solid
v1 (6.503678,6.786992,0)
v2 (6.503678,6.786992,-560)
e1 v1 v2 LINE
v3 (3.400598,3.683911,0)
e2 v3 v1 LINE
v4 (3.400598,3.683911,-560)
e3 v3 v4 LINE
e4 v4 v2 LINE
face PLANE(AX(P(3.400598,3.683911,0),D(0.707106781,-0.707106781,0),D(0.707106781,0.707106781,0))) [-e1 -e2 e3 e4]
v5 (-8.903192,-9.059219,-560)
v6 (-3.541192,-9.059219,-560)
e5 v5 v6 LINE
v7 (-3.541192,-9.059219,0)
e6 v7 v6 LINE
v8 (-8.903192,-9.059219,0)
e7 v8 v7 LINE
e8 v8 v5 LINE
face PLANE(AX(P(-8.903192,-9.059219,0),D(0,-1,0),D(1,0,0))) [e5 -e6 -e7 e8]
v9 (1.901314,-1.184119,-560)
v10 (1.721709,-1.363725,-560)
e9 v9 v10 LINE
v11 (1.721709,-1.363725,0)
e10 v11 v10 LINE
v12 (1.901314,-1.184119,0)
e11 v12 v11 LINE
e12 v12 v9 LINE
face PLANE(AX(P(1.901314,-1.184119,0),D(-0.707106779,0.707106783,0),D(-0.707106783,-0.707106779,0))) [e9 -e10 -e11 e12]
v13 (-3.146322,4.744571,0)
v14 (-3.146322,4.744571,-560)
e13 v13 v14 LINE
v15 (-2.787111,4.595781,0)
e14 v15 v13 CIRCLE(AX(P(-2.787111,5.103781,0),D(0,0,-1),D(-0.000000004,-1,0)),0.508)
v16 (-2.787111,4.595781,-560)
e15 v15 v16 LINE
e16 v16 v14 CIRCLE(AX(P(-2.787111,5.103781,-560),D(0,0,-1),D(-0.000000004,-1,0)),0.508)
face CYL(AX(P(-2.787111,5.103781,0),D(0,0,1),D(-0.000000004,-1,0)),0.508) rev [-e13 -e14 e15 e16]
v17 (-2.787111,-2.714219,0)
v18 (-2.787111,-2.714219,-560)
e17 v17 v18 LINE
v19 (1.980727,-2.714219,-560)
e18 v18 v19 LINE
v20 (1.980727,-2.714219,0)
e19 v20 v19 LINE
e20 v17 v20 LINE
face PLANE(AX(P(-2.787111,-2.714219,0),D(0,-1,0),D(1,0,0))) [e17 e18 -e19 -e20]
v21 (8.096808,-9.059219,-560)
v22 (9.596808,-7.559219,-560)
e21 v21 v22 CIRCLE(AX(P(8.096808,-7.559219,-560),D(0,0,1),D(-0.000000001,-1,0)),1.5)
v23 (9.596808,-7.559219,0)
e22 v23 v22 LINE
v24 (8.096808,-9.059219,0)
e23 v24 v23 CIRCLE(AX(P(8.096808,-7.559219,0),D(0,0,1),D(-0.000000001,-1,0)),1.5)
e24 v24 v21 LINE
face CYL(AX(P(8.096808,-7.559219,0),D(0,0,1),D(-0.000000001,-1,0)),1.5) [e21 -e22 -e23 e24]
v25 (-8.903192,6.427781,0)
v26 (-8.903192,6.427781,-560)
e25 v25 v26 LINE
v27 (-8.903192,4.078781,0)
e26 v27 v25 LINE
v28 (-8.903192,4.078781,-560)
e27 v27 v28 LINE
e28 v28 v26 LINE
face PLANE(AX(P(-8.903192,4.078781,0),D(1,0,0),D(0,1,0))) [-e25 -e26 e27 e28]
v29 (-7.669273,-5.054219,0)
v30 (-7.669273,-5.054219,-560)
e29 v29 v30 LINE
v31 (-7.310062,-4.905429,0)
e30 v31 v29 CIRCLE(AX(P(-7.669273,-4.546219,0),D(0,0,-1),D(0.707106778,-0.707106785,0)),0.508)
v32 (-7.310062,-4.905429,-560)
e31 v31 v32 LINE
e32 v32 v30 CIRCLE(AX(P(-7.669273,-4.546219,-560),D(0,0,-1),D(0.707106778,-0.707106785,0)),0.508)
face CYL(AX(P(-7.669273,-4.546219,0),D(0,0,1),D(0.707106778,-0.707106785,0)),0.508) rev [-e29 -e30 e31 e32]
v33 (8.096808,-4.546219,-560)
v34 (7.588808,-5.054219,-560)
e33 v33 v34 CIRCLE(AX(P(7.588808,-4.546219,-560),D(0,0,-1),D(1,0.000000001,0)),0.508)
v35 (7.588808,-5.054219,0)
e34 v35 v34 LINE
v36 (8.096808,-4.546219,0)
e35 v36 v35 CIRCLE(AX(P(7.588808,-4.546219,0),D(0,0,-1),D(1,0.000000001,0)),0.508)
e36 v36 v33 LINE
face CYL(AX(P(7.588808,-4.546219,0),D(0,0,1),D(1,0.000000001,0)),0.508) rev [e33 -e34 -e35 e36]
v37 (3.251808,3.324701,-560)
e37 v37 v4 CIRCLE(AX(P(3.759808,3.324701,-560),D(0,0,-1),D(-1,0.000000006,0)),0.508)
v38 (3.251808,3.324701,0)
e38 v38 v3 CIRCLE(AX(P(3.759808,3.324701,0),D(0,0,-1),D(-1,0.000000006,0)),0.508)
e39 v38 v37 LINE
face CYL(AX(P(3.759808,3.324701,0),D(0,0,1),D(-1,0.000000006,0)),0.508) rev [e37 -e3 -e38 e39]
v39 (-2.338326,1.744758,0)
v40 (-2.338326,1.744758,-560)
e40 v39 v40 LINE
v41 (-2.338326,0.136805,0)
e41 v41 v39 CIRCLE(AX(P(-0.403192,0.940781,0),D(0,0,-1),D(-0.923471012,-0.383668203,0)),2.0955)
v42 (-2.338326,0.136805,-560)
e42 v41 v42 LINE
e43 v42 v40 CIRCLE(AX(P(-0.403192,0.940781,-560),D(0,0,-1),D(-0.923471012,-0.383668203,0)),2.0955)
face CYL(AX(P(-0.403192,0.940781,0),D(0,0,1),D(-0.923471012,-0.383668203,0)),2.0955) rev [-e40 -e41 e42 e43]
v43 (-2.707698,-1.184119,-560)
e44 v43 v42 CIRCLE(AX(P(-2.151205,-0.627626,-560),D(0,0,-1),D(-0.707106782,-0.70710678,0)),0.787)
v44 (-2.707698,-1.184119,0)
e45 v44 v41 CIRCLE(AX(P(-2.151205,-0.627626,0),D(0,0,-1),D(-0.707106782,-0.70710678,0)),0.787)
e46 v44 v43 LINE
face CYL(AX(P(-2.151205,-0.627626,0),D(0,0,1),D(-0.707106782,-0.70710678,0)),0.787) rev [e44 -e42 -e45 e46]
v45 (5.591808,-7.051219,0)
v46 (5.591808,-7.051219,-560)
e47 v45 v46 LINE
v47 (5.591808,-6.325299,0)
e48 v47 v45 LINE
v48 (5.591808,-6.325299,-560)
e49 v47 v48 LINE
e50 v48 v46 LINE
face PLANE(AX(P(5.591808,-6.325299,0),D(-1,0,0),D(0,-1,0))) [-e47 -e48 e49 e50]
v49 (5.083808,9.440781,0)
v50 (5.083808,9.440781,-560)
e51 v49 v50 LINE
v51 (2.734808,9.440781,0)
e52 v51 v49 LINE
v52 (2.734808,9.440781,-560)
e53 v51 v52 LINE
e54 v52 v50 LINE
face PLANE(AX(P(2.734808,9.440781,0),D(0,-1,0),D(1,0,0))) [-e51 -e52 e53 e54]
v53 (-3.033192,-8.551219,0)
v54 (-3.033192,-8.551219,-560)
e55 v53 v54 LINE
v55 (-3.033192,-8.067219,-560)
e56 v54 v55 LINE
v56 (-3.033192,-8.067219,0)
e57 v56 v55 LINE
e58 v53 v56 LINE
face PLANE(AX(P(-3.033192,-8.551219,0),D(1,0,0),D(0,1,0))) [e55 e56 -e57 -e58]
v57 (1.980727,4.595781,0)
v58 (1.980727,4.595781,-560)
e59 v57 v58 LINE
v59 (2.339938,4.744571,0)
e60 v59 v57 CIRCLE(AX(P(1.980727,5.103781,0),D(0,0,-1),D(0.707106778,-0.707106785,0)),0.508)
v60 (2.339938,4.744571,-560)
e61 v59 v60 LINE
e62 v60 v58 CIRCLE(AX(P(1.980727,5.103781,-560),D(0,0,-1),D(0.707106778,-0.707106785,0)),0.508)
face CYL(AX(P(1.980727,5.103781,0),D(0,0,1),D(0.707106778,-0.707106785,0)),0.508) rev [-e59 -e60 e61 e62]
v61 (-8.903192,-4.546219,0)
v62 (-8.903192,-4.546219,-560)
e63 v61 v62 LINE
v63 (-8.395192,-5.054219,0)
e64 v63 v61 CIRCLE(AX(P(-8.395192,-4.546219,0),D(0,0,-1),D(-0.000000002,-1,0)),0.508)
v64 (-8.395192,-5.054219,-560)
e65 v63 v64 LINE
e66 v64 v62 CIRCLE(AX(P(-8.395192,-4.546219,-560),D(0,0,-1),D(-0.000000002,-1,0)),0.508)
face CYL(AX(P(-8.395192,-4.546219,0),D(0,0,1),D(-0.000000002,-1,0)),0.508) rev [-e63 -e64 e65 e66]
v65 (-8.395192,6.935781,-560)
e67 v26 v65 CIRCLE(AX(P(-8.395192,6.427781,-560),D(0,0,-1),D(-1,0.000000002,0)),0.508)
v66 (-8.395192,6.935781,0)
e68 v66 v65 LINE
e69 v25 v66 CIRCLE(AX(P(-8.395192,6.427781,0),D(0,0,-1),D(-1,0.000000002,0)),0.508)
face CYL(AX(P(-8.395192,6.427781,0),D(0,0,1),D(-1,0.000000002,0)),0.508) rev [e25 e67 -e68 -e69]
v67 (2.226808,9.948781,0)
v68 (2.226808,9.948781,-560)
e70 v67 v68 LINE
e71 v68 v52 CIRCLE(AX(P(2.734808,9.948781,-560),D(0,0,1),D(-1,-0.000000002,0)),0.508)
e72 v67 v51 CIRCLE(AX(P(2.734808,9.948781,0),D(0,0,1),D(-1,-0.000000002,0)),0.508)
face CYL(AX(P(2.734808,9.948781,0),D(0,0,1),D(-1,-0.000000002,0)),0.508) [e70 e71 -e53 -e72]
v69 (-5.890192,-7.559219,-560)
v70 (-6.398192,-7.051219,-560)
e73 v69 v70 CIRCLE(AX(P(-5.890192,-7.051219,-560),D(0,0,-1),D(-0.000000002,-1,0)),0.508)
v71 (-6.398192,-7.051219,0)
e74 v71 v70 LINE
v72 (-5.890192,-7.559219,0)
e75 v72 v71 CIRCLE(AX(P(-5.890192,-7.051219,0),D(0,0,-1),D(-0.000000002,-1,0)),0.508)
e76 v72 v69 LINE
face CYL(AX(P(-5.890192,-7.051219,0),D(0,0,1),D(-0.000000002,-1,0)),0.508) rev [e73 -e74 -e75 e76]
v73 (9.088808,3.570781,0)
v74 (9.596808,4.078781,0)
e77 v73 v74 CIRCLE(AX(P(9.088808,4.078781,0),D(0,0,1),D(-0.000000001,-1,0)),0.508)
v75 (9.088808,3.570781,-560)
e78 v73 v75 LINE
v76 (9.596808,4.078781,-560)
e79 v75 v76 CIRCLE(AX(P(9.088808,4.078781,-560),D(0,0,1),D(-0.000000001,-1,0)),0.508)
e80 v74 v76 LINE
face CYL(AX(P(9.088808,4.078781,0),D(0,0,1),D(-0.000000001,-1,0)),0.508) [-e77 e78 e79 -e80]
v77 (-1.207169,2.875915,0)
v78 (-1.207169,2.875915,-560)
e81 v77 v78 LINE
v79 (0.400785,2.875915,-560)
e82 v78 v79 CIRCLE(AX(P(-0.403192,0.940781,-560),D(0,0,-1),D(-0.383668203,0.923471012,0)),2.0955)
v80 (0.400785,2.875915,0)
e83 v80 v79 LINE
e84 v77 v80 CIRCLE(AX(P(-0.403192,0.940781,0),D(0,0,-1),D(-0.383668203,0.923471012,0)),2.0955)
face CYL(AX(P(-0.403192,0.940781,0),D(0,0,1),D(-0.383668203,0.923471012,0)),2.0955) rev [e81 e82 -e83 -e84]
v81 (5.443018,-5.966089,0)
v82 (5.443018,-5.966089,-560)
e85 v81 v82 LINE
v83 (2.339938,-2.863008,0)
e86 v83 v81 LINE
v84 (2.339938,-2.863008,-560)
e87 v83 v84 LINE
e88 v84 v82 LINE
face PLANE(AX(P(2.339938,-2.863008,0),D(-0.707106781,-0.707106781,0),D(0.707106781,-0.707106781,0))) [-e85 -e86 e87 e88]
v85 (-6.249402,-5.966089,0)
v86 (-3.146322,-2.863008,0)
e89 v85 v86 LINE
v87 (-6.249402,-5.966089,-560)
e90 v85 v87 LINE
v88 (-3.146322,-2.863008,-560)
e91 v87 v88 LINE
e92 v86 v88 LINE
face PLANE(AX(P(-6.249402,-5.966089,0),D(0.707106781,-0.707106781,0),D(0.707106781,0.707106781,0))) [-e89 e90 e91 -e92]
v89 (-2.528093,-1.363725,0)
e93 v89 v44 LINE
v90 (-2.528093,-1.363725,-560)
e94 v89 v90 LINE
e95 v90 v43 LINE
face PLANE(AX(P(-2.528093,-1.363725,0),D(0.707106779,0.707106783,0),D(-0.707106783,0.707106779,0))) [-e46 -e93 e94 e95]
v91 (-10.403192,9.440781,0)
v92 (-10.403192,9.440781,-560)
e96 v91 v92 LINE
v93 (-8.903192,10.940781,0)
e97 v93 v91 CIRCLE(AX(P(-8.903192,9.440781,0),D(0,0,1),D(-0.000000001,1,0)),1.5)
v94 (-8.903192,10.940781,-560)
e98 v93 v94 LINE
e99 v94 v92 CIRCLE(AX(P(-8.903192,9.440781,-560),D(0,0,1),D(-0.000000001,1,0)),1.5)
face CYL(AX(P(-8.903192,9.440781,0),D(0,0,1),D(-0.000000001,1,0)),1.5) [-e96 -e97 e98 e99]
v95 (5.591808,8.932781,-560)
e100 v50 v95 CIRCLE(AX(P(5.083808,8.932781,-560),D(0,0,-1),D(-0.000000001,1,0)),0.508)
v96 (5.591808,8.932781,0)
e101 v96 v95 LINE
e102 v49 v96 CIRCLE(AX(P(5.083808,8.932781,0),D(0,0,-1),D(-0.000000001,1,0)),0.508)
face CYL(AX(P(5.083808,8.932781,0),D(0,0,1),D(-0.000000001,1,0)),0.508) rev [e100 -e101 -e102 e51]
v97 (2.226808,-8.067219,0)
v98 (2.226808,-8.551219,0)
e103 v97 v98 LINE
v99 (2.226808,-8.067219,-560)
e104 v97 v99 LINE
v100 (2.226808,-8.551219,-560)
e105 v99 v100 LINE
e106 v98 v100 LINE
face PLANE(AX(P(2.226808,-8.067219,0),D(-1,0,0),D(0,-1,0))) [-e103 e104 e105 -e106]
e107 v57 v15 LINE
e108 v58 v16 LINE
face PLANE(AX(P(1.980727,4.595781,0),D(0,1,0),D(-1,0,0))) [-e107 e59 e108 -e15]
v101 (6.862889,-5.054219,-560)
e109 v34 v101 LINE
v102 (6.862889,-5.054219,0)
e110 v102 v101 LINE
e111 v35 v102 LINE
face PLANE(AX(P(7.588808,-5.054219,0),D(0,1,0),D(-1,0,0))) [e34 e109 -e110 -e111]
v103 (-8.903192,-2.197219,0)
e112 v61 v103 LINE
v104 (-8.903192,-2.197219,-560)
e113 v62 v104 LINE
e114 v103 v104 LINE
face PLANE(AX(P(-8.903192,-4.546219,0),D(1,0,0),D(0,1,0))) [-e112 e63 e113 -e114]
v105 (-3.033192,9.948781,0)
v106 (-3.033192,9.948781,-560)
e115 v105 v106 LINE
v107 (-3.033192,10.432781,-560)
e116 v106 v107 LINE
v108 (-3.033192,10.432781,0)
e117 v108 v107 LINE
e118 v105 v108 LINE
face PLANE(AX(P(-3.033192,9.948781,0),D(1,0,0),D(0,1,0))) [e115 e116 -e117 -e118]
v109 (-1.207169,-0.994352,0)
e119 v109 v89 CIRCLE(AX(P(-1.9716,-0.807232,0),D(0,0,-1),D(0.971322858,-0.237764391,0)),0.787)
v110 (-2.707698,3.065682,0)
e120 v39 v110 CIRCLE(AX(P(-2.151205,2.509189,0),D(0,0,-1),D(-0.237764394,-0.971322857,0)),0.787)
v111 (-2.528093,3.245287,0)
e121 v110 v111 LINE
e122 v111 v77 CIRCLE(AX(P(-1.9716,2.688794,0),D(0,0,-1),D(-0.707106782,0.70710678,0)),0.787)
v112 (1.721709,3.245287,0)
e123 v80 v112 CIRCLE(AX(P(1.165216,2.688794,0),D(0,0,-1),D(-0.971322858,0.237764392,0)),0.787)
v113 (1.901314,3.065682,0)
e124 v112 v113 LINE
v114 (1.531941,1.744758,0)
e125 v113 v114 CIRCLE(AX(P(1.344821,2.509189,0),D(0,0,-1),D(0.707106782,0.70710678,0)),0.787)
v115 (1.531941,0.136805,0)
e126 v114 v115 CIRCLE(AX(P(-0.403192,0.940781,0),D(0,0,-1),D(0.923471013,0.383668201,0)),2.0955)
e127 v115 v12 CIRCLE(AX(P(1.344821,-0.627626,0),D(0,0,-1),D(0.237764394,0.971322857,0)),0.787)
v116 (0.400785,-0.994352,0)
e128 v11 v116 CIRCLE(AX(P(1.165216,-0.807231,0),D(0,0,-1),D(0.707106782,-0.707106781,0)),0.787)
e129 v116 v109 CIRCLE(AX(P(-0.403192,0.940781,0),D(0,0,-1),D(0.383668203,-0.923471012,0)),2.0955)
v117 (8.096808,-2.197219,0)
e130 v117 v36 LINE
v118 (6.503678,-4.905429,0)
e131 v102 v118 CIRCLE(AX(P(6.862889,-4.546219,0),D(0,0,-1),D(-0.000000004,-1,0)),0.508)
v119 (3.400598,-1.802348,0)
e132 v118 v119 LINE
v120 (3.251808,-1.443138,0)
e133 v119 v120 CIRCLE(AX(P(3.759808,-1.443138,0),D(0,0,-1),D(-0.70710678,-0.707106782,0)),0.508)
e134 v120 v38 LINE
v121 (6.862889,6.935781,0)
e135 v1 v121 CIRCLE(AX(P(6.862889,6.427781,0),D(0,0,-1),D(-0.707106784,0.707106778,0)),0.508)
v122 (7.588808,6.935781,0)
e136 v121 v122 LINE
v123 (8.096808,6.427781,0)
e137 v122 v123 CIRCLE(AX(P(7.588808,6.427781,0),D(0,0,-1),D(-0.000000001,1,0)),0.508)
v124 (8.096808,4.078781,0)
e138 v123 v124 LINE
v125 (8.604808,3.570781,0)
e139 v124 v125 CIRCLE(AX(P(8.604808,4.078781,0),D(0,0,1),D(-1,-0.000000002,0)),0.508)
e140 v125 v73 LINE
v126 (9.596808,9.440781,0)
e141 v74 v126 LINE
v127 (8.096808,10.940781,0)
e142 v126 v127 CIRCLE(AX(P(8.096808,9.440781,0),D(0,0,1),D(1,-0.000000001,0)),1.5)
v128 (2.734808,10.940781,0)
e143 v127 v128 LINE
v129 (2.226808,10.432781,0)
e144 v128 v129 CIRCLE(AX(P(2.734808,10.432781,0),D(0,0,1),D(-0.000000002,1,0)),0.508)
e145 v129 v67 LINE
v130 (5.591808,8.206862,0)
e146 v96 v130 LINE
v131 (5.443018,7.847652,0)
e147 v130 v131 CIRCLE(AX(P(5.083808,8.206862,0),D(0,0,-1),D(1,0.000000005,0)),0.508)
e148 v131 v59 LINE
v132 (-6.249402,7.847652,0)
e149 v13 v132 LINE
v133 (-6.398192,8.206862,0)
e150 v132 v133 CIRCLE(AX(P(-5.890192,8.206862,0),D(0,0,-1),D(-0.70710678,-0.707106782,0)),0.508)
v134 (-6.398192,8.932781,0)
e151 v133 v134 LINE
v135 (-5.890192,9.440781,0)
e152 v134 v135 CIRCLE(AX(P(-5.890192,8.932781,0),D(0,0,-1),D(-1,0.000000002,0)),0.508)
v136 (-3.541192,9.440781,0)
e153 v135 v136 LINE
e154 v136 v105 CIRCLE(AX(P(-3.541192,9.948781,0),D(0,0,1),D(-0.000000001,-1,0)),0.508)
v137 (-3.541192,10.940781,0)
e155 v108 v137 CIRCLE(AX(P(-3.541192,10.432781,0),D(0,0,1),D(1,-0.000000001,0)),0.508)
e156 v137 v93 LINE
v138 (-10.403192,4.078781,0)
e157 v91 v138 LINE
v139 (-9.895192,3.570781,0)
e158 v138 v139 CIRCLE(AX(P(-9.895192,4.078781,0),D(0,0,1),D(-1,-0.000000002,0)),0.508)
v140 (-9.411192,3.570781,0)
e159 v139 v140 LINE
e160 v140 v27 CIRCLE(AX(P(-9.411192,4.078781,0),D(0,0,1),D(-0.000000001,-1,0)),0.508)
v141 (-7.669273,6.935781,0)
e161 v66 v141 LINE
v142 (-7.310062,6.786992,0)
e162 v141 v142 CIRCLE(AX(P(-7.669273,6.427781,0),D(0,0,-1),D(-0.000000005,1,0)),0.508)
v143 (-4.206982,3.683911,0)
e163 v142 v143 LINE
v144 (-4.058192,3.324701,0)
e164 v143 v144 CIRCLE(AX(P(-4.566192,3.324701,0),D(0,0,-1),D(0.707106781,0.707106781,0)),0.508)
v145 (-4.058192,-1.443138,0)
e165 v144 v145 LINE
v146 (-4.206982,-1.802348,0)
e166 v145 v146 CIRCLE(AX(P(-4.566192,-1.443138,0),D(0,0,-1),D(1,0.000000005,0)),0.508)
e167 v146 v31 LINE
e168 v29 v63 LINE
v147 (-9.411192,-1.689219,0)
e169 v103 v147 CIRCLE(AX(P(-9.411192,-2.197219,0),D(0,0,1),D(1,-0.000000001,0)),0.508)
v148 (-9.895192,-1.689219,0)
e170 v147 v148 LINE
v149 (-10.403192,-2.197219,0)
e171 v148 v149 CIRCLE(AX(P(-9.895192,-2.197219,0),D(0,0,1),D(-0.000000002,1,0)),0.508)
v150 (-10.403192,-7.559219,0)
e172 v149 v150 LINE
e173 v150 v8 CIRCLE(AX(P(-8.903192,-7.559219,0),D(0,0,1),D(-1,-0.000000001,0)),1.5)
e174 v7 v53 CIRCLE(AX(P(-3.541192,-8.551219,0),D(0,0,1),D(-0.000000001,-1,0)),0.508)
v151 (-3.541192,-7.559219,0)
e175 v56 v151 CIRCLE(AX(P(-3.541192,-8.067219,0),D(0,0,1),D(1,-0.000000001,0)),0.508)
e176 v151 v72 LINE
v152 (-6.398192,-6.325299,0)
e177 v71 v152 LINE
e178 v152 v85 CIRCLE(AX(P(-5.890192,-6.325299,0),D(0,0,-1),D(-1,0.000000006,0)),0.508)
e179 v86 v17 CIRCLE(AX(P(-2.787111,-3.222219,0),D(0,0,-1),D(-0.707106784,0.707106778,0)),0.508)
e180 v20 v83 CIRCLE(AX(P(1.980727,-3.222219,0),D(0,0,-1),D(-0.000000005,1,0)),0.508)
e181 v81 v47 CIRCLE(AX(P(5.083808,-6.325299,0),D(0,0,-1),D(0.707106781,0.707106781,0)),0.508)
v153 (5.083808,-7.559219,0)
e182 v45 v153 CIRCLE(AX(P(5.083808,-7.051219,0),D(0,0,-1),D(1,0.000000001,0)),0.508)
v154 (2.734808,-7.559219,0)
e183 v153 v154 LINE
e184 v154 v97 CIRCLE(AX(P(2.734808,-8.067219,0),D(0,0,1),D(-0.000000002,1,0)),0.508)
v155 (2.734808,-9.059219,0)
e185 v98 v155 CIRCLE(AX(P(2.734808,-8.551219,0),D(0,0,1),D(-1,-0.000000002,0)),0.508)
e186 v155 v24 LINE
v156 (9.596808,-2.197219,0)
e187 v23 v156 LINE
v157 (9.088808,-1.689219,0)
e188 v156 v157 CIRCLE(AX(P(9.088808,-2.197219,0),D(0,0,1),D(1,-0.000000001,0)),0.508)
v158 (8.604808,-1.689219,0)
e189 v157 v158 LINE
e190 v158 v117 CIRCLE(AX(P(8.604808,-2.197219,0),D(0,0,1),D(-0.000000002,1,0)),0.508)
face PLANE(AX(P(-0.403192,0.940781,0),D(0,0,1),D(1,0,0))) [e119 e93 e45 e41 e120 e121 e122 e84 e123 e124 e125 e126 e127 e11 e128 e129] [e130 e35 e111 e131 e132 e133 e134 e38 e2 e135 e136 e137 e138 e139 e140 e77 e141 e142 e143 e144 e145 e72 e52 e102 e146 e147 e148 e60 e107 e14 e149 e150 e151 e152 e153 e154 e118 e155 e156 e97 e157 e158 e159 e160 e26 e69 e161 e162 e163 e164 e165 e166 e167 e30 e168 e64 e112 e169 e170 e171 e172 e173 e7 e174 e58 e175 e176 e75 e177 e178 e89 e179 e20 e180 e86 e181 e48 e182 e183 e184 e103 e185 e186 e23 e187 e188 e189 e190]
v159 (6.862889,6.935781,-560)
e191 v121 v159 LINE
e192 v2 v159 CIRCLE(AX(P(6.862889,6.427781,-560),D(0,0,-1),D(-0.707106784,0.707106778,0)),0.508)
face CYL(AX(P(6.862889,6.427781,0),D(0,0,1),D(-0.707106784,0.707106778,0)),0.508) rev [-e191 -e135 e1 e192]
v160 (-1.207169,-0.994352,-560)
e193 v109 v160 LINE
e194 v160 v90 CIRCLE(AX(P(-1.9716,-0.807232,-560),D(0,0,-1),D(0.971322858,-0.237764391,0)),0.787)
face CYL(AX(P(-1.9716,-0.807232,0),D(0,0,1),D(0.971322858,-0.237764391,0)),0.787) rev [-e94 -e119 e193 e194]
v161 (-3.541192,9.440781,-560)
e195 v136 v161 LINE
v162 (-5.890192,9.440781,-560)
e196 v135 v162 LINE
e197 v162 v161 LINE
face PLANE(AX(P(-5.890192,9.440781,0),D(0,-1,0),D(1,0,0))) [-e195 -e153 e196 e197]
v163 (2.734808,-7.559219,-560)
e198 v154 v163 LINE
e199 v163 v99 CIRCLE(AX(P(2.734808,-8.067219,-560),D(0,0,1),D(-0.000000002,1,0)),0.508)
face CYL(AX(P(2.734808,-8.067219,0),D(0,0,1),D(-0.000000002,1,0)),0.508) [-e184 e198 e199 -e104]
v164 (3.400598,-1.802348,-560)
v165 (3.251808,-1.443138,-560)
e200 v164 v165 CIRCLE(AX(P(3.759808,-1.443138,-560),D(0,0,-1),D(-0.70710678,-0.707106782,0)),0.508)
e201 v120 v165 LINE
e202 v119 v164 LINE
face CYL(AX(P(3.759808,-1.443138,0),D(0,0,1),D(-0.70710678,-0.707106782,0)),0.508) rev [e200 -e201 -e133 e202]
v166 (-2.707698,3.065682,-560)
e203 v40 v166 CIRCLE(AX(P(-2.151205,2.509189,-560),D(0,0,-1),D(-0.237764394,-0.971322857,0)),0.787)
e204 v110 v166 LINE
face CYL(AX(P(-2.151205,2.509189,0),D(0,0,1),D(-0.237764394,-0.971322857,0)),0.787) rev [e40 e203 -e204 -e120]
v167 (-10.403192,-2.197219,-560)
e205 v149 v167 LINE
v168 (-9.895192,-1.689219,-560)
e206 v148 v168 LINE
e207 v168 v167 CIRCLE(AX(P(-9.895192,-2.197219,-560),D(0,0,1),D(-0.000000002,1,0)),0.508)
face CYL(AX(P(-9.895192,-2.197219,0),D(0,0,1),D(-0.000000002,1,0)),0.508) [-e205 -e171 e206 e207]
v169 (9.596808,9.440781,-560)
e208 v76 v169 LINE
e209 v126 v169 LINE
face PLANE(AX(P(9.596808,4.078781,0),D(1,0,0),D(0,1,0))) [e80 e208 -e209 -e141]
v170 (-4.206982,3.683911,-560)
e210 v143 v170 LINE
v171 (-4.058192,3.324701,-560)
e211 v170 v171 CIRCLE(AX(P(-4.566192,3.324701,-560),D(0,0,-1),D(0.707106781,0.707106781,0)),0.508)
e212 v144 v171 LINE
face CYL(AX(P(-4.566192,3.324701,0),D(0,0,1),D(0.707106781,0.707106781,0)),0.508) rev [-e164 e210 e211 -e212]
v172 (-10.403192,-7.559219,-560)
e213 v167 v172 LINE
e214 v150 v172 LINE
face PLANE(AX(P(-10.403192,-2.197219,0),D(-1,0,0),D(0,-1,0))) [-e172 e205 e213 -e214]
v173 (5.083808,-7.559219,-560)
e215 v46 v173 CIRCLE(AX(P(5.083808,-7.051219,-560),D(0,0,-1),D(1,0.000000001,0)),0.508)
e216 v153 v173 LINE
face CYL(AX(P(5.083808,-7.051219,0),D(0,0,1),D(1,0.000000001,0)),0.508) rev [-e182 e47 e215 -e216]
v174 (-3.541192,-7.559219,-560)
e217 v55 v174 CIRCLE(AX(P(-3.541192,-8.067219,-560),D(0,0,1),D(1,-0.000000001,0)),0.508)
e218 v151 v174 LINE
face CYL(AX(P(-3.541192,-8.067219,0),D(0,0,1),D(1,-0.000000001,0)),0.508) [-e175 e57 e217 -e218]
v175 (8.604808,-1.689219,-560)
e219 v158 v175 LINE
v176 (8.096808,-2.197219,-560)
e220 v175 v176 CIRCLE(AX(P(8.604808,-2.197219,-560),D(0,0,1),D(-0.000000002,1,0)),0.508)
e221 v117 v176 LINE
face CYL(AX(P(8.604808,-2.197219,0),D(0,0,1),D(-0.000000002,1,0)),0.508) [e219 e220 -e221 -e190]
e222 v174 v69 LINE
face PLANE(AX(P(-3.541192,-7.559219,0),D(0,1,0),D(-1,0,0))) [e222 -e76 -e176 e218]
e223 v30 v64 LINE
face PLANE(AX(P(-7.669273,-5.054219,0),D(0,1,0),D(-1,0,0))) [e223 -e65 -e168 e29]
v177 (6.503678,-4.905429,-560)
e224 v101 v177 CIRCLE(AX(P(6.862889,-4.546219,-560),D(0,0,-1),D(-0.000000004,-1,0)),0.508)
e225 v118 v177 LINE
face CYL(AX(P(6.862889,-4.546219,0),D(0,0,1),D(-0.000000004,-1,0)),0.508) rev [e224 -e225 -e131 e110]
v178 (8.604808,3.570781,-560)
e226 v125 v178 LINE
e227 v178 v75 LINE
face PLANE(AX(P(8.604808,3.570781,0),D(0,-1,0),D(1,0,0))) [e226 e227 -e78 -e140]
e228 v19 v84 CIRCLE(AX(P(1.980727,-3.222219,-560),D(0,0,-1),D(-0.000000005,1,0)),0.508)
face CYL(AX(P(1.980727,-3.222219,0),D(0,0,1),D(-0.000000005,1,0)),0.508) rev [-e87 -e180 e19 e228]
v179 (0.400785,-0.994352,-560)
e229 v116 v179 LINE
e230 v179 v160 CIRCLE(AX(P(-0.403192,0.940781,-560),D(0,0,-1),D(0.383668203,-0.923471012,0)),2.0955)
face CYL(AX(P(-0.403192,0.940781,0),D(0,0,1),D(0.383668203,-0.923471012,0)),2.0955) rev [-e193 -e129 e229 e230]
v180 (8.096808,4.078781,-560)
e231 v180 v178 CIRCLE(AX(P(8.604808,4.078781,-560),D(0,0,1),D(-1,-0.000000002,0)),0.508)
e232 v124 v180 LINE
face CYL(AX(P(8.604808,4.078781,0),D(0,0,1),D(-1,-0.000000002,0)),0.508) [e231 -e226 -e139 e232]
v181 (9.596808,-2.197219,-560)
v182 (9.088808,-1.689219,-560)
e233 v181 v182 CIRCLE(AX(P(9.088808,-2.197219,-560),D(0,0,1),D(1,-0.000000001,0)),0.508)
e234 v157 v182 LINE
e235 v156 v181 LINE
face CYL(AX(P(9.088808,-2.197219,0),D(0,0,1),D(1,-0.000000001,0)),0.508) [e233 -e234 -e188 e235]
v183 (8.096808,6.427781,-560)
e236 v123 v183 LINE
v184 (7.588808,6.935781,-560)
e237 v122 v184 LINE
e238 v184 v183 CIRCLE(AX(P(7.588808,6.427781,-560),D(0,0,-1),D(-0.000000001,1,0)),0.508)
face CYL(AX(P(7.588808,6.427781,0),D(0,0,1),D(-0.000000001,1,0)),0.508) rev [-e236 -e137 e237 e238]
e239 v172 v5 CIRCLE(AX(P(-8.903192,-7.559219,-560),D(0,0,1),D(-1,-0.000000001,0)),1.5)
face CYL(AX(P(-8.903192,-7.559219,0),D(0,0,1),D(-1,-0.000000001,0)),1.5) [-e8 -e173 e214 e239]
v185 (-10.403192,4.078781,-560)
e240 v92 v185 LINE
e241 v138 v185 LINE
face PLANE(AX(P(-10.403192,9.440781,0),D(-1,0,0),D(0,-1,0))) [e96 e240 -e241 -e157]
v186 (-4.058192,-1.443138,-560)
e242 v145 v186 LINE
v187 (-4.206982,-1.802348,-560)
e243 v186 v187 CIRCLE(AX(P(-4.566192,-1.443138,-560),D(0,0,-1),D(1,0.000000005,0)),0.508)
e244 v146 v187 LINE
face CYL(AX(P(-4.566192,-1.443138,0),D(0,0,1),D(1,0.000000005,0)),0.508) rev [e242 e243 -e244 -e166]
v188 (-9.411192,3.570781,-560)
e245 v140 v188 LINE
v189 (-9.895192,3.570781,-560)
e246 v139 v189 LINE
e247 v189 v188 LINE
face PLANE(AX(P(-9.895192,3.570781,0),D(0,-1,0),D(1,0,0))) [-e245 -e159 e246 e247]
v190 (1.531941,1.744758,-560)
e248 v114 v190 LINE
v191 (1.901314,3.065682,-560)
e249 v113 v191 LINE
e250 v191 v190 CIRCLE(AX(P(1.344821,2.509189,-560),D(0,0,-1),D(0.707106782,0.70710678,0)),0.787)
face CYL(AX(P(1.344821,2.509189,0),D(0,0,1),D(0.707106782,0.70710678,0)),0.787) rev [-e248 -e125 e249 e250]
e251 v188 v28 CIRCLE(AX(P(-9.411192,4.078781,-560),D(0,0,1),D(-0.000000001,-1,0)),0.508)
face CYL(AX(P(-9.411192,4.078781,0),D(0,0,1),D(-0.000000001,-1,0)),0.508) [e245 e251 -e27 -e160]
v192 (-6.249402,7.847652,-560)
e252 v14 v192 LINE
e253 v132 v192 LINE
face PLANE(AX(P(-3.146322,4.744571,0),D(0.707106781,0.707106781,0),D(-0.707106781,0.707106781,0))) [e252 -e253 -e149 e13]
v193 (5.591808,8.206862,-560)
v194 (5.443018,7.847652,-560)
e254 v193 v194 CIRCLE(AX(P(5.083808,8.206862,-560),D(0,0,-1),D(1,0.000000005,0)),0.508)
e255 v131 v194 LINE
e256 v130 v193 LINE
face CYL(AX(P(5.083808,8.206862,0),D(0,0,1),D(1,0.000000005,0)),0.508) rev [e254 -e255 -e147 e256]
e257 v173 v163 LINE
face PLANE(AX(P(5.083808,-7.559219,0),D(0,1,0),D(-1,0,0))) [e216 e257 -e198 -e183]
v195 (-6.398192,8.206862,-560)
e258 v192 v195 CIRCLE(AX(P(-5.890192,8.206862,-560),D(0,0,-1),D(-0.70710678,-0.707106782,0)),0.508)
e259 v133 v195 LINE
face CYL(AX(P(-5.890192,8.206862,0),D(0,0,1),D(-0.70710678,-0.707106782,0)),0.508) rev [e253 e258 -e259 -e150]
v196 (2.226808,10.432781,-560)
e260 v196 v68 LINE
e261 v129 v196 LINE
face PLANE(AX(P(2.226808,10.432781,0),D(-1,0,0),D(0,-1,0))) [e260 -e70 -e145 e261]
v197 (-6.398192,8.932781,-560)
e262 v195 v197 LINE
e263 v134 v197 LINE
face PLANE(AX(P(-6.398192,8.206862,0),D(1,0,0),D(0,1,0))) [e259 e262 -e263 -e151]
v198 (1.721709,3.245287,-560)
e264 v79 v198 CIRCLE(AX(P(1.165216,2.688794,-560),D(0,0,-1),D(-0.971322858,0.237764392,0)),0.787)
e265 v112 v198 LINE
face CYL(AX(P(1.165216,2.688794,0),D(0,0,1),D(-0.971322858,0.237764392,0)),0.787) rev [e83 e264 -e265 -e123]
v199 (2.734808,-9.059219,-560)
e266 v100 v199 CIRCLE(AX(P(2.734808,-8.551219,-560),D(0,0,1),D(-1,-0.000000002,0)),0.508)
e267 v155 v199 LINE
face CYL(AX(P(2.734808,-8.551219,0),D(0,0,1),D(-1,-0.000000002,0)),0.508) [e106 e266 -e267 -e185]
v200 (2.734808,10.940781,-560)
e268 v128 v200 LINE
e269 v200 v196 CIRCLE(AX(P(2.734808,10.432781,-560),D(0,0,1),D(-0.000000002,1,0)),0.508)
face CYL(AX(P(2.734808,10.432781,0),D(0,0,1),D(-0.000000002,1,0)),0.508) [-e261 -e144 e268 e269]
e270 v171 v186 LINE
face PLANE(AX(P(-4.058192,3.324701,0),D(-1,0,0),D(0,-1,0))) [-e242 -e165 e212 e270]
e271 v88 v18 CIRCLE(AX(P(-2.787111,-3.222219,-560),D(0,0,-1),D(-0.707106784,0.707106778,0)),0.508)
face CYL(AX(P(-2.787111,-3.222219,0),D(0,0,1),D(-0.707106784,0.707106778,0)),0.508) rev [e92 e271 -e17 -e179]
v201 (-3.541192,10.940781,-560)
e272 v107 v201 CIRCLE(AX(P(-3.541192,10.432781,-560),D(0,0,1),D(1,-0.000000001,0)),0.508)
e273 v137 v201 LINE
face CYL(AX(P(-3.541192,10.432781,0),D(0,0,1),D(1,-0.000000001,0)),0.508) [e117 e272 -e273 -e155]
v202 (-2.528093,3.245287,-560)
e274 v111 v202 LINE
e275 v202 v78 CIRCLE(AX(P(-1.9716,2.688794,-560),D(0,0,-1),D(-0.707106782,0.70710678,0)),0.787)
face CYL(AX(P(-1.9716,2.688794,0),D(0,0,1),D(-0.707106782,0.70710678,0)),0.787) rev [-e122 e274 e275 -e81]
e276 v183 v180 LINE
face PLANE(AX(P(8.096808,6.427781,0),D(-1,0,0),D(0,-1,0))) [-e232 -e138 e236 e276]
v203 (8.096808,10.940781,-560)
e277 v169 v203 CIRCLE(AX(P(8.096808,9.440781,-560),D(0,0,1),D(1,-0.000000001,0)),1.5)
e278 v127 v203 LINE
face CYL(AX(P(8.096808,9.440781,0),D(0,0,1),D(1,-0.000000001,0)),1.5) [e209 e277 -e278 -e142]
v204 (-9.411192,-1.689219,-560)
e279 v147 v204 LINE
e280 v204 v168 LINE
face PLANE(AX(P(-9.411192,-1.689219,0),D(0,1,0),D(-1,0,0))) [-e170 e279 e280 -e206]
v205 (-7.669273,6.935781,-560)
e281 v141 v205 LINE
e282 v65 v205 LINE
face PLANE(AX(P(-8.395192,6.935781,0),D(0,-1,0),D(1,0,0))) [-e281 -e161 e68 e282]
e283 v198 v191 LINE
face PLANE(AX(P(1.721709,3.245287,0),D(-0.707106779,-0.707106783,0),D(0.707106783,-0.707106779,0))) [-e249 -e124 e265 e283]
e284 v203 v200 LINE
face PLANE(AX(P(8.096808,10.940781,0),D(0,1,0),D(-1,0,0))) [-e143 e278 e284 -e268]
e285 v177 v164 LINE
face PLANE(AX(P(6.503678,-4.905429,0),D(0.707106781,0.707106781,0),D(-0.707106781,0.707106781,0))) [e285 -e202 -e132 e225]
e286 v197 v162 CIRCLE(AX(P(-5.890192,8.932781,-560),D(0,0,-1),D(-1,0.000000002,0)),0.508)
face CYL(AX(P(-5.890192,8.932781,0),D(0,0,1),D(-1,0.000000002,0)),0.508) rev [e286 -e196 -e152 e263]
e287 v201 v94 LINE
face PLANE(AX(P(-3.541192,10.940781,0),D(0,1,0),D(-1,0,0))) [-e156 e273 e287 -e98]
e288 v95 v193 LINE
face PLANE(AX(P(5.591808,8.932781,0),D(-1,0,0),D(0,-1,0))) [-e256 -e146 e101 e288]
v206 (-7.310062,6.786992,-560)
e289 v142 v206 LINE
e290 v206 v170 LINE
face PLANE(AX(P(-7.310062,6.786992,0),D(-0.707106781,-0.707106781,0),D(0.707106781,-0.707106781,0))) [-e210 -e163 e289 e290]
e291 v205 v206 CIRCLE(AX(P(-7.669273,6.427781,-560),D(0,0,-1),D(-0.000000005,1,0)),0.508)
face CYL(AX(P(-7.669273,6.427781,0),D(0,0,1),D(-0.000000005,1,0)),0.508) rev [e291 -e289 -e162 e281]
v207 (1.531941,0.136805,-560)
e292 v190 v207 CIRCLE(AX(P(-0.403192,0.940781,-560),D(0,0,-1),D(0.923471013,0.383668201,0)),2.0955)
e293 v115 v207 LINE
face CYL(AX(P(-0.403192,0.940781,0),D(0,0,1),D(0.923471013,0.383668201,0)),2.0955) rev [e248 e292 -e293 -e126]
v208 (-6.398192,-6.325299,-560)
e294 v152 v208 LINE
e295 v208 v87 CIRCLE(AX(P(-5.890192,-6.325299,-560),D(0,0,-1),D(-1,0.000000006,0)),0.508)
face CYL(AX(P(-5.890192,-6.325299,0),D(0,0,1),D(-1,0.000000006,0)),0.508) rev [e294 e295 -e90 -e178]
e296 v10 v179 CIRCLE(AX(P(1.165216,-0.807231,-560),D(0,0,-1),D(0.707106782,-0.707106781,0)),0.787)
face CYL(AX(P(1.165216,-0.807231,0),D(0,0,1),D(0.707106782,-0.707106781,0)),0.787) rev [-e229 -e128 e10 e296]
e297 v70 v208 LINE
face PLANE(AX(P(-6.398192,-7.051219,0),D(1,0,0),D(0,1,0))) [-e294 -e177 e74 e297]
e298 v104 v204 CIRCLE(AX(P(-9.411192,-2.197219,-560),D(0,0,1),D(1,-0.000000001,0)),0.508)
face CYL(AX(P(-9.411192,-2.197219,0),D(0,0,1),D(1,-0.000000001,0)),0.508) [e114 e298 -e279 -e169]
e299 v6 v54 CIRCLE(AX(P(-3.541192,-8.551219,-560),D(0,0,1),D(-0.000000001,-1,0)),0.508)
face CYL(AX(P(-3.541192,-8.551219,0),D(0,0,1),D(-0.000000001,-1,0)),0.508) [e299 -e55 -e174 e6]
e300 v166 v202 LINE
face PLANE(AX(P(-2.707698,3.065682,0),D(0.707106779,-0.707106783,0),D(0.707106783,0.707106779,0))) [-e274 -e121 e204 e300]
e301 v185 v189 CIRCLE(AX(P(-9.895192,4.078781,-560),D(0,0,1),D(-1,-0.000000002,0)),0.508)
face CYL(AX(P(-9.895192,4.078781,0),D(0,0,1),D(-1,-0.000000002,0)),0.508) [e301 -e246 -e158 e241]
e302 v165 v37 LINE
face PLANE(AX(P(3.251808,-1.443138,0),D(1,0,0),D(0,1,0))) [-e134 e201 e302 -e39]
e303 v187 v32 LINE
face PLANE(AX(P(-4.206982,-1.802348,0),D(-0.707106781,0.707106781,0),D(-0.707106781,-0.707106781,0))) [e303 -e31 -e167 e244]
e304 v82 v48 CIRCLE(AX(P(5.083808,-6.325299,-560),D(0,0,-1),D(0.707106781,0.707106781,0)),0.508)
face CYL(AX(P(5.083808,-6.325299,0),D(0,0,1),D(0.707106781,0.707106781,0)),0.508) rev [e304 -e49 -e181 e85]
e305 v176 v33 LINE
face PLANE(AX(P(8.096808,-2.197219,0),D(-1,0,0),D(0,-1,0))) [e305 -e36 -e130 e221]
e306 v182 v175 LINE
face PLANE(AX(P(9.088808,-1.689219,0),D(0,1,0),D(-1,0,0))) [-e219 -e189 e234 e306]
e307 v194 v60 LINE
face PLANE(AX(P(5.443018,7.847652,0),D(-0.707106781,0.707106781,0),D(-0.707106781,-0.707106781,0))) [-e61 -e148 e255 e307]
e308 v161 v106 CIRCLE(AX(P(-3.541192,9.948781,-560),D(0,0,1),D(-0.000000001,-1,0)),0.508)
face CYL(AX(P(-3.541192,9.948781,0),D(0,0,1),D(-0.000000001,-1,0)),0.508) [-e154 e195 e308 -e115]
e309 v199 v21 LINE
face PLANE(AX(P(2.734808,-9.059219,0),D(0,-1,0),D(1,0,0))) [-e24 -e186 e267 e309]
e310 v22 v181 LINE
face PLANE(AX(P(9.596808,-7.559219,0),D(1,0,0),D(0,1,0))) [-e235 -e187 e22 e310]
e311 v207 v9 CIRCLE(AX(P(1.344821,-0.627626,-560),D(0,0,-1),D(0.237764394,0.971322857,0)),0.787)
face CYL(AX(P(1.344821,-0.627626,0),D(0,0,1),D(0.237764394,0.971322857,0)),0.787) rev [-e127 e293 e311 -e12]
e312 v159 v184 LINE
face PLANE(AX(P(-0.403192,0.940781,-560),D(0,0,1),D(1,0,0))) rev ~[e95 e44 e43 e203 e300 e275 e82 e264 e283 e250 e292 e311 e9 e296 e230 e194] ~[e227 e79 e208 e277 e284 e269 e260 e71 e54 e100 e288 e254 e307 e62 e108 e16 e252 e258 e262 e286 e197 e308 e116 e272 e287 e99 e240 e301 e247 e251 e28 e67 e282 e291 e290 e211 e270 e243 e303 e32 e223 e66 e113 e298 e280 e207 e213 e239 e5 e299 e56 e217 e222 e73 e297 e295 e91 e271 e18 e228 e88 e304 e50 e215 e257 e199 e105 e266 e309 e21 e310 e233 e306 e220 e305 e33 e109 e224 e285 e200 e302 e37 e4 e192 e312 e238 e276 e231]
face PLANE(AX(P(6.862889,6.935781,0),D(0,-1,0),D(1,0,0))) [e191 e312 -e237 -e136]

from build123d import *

# Parameters (mm, degrees)
METRIC_AL_EXTRUSION_20_2020_PROFILE_1_DEPTH = 560


with BuildPart() as part:
    # Sketch19 → Metric al extrusion 20-2020 PROFILE(1) (new body)
    with BuildSketch(Plane(origin=(0, 0, 0), x_dir=(-1, 0, 0), z_dir=(0, 0, -1))):
        with BuildLine():
            Line((9.895192042, 3.57078143), (9.411192042, 3.57078143))
            ThreePointArc((9.411192042, 3.57078143), (9.051981797, 3.719571185), (8.903192042, 4.07878143))
            Line((8.903192042, 4.07878143), (8.903192042, 6.42778143))
            ThreePointArc((8.903192042, 6.42778143), (8.754402286, 6.786991675), (8.395192042, 6.93578143))
            Line((8.395192042, 6.93578143), (7.669272703, 6.93578143))
            ThreePointArc((7.669272703, 6.93578143), (7.474869519, 6.897112233), (7.310062458, 6.786991675))
            Line((7.310062458, 6.786991675), (4.206981797, 3.683911014))
            ThreePointArc((4.206981797, 3.683911014), (4.096861239, 3.519103952), (4.058192042, 3.324700769))
            Line((4.058192042, 3.324700769), (4.058192042, -1.443137908))
            ThreePointArc((4.058192042, -1.443137908), (4.096861239, -1.637541092), (4.206981797, -1.802348153))
            Line((4.206981797, -1.802348153), (7.310062458, -4.905428815))
            ThreePointArc((7.310062458, -4.905428815), (7.474869519, -5.015549372), (7.669272703, -5.05421857))
            Line((7.669272703, -5.05421857), (8.395192042, -5.05421857))
            ThreePointArc((8.395192042, -5.05421857), (8.754402286, -4.905428815), (8.903192042, -4.54621857))
            Line((8.903192042, -4.54621857), (8.903192042, -2.19721857))
            ThreePointArc((8.903192042, -2.19721857), (9.051981797, -1.838008325), (9.411192042, -1.68921857))
            Line((9.411192042, -1.68921857), (9.895192042, -1.68921857))
            ThreePointArc((9.895192042, -1.68921857), (10.254402286, -1.838008325), (10.403192042, -2.19721857))
            Line((10.403192042, -2.19721857), (10.403192042, -7.55921857))
            ThreePointArc((10.403192042, -7.55921857), (9.963852213, -8.619878742), (8.903192042, -9.05921857))
            Line((8.903192042, -9.05921857), (3.541192042, -9.05921857))
            ThreePointArc((3.541192042, -9.05921857), (3.181981797, -8.910428815), (3.033192042, -8.55121857))
            Line((3.033192042, -8.55121857), (3.033192042, -8.06721857))
            ThreePointArc((3.033192042, -8.06721857), (3.181981797, -7.708008325), (3.541192042, -7.55921857))
            Line((3.541192042, -7.55921857), (5.890192042, -7.55921857))
            ThreePointArc((5.890192042, -7.55921857), (6.249402286, -7.410428815), (6.398192042, -7.05121857))
            Line((6.398192042, -7.05121857), (6.398192042, -6.325299231))
            ThreePointArc((6.398192042, -6.325299231), (6.359522844, -6.130896048), (6.249402286, -5.966088986))
            Line((6.249402286, -5.966088986), (3.146321625, -2.863008325))
            ThreePointArc((3.146321625, -2.863008325), (2.981514564, -2.752887767), (2.78711138, -2.71421857))
            Line((2.78711138, -2.71421857), (-1.980727297, -2.71421857))
            ThreePointArc((-1.980727297, -2.71421857), (-2.175130481, -2.752887767), (-2.339937542, -2.863008325))
            Line((-2.339937542, -2.863008325), (-5.443018203, -5.966088986))
            ThreePointArc((-5.443018203, -5.966088986), (-5.553138761, -6.130896048), (-5.591807958, -6.325299231))
            Line((-5.591807958, -6.325299231), (-5.591807958, -7.05121857))
            ThreePointArc((-5.591807958, -7.05121857), (-5.443018203, -7.410428815), (-5.083807958, -7.55921857))
            Line((-5.083807958, -7.55921857), (-2.734807958, -7.55921857))
            ThreePointArc((-2.734807958, -7.55921857), (-2.375597714, -7.708008325), (-2.226807958, -8.06721857))
            Line((-2.226807958, -8.06721857), (-2.226807958, -8.55121857))
            ThreePointArc((-2.226807958, -8.55121857), (-2.375597714, -8.910428815), (-2.734807958, -9.05921857))
            Line((-2.734807958, -9.05921857), (-8.096807958, -9.05921857))
            ThreePointArc((-8.096807958, -9.05921857), (-9.15746813, -8.619878742), (-9.596807958, -7.55921857))
            Line((-9.596807958, -7.55921857), (-9.596807958, -2.19721857))
            ThreePointArc((-9.596807958, -2.19721857), (-9.448018203, -1.838008325), (-9.088807958, -1.68921857))
            Line((-9.088807958, -1.68921857), (-8.604807958, -1.68921857))
            ThreePointArc((-8.604807958, -1.68921857), (-8.245597714, -1.838008325), (-8.096807958, -2.19721857))
            Line((-8.096807958, -2.19721857), (-8.096807958, -4.54621857))
            ThreePointArc((-8.096807958, -4.54621857), (-7.948018203, -4.905428815), (-7.588807958, -5.05421857))
            Line((-7.588807958, -5.05421857), (-6.86288862, -5.05421857))
            ThreePointArc((-6.86288862, -5.05421857), (-6.668485436, -5.015549372), (-6.503678375, -4.905428815))
            Line((-6.503678375, -4.905428815), (-3.400597714, -1.802348153))
            ThreePointArc((-3.400597714, -1.802348153), (-3.290477156, -1.637541092), (-3.251807958, -1.443137908))
            Line((-3.251807958, -1.443137908), (-3.251807958, 3.324700769))
            ThreePointArc((-3.251807958, 3.324700769), (-3.290477156, 3.519103952), (-3.400597714, 3.683911014))
            Line((-3.400597714, 3.683911014), (-6.503678375, 6.786991675))
            ThreePointArc((-6.503678375, 6.786991675), (-6.668485436, 6.897112233), (-6.86288862, 6.93578143))
            Line((-6.86288862, 6.93578143), (-7.588807958, 6.93578143))
            ThreePointArc((-7.588807958, 6.93578143), (-7.948018203, 6.786991675), (-8.096807958, 6.42778143))
            Line((-8.096807958, 6.42778143), (-8.096807958, 4.07878143))
            ThreePointArc((-8.096807958, 4.07878143), (-8.245597714, 3.719571185), (-8.604807958, 3.57078143))
            Line((-8.604807958, 3.57078143), (-9.088807958, 3.57078143))
            ThreePointArc((-9.088807958, 3.57078143), (-9.448018203, 3.719571185), (-9.596807958, 4.07878143))
            Line((-9.596807958, 4.07878143), (-9.596807958, 9.44078143))
            ThreePointArc((-9.596807958, 9.44078143), (-9.15746813, 10.501441602), (-8.096807958, 10.94078143))
            Line((-8.096807958, 10.94078143), (-2.734807958, 10.94078143))
            ThreePointArc((-2.734807958, 10.94078143), (-2.375597714, 10.791991675), (-2.226807958, 10.43278143))
            Line((-2.226807958, 10.43278143), (-2.226807958, 9.94878143))
            ThreePointArc((-2.226807958, 9.94878143), (-2.375597714, 9.589571185), (-2.734807958, 9.44078143))
            Line((-2.734807958, 9.44078143), (-5.083807958, 9.44078143))
            ThreePointArc((-5.083807958, 9.44078143), (-5.443018203, 9.291991675), (-5.591807958, 8.93278143))
            Line((-5.591807958, 8.93278143), (-5.591807958, 8.206862092))
            ThreePointArc((-5.591807958, 8.206862092), (-5.553138761, 8.012458908), (-5.443018203, 7.847651847))
            Line((-5.443018203, 7.847651847), (-2.339937542, 4.744571185))
            ThreePointArc((-2.339937542, 4.744571185), (-2.175130481, 4.634450628), (-1.980727297, 4.59578143))
            Line((-1.980727297, 4.59578143), (2.78711138, 4.59578143))
            ThreePointArc((2.78711138, 4.59578143), (2.981514564, 4.634450628), (3.146321625, 4.744571185))
            Line((3.146321625, 4.744571185), (6.249402286, 7.847651847))
            ThreePointArc((6.249402286, 7.847651847), (6.359522844, 8.012458908), (6.398192042, 8.206862092))
            Line((6.398192042, 8.206862092), (6.398192042, 8.93278143))
            ThreePointArc((6.398192042, 8.93278143), (6.249402286, 9.291991675), (5.890192042, 9.44078143))
            Line((5.890192042, 9.44078143), (3.541192042, 9.44078143))
            ThreePointArc((3.541192042, 9.44078143), (3.181981797, 9.589571185), (3.033192042, 9.94878143))
            Line((3.033192042, 9.94878143), (3.033192042, 10.43278143))
            ThreePointArc((3.033192042, 10.43278143), (3.181981797, 10.791991675), (3.541192042, 10.94078143))
            Line((3.541192042, 10.94078143), (8.903192042, 10.94078143))
            ThreePointArc((8.903192042, 10.94078143), (9.963852213, 10.501441602), (10.403192042, 9.44078143))
            Line((10.403192042, 9.44078143), (10.403192042, 4.07878143))
            ThreePointArc((10.403192042, 4.07878143), (10.254402286, 3.719571185), (9.895192042, 3.57078143))
        make_face()
        with BuildLine():
            Line((2.528092885, -1.363724536), (2.707698008, -1.184119414))
            ThreePointArc((2.707698008, -1.184119414), (2.909130058, -0.415686381), (2.338325548, 0.136804712))
            ThreePointArc((2.338325548, 0.136804712), (2.498692042, 0.94078143), (2.338325548, 1.744758148))
            ThreePointArc((2.338325548, 1.744758148), (2.909130058, 2.297249241), (2.707698008, 3.065682274))
            Line((2.707698008, 3.065682274), (2.528092885, 3.245287396))
            ThreePointArc((2.528092885, 3.245287396), (1.759659852, 3.446719447), (1.20716876, 2.875914936))
            ThreePointArc((1.20716876, 2.875914936), (0.403192042, 3.03628143), (-0.400784676, 2.875914936))
            ThreePointArc((-0.400784676, 2.875914936), (-0.953275769, 3.446719447), (-1.721708802, 3.245287396))
            Line((-1.721708802, 3.245287396), (-1.901313925, 3.065682274))
            ThreePointArc((-1.901313925, 3.065682274), (-2.102745975, 2.297249241), (-1.531941465, 1.744758148))
            ThreePointArc((-1.531941465, 1.744758148), (-1.692307958, 0.94078143), (-1.531941465, 0.136804712))
            ThreePointArc((-1.531941465, 0.136804712), (-2.102745975, -0.415686381), (-1.901313925, -1.184119414))
            Line((-1.901313925, -1.184119414), (-1.721708802, -1.363724536))
            ThreePointArc((-1.721708802, -1.363724536), (-0.953275769, -1.565156587), (-0.400784676, -0.994352076))
            ThreePointArc((-0.400784676, -0.994352076), (0.403192042, -1.15471857), (1.20716876, -0.994352076))
            ThreePointArc((1.20716876, -0.994352076), (1.759659852, -1.565156587), (2.528092885, -1.363724536))
        make_face(mode=Mode.SUBTRACT)
    extrude(amount=METRIC_AL_EXTRUSION_20_2020_PROFILE_1_DEPTH)


solid = part.part
